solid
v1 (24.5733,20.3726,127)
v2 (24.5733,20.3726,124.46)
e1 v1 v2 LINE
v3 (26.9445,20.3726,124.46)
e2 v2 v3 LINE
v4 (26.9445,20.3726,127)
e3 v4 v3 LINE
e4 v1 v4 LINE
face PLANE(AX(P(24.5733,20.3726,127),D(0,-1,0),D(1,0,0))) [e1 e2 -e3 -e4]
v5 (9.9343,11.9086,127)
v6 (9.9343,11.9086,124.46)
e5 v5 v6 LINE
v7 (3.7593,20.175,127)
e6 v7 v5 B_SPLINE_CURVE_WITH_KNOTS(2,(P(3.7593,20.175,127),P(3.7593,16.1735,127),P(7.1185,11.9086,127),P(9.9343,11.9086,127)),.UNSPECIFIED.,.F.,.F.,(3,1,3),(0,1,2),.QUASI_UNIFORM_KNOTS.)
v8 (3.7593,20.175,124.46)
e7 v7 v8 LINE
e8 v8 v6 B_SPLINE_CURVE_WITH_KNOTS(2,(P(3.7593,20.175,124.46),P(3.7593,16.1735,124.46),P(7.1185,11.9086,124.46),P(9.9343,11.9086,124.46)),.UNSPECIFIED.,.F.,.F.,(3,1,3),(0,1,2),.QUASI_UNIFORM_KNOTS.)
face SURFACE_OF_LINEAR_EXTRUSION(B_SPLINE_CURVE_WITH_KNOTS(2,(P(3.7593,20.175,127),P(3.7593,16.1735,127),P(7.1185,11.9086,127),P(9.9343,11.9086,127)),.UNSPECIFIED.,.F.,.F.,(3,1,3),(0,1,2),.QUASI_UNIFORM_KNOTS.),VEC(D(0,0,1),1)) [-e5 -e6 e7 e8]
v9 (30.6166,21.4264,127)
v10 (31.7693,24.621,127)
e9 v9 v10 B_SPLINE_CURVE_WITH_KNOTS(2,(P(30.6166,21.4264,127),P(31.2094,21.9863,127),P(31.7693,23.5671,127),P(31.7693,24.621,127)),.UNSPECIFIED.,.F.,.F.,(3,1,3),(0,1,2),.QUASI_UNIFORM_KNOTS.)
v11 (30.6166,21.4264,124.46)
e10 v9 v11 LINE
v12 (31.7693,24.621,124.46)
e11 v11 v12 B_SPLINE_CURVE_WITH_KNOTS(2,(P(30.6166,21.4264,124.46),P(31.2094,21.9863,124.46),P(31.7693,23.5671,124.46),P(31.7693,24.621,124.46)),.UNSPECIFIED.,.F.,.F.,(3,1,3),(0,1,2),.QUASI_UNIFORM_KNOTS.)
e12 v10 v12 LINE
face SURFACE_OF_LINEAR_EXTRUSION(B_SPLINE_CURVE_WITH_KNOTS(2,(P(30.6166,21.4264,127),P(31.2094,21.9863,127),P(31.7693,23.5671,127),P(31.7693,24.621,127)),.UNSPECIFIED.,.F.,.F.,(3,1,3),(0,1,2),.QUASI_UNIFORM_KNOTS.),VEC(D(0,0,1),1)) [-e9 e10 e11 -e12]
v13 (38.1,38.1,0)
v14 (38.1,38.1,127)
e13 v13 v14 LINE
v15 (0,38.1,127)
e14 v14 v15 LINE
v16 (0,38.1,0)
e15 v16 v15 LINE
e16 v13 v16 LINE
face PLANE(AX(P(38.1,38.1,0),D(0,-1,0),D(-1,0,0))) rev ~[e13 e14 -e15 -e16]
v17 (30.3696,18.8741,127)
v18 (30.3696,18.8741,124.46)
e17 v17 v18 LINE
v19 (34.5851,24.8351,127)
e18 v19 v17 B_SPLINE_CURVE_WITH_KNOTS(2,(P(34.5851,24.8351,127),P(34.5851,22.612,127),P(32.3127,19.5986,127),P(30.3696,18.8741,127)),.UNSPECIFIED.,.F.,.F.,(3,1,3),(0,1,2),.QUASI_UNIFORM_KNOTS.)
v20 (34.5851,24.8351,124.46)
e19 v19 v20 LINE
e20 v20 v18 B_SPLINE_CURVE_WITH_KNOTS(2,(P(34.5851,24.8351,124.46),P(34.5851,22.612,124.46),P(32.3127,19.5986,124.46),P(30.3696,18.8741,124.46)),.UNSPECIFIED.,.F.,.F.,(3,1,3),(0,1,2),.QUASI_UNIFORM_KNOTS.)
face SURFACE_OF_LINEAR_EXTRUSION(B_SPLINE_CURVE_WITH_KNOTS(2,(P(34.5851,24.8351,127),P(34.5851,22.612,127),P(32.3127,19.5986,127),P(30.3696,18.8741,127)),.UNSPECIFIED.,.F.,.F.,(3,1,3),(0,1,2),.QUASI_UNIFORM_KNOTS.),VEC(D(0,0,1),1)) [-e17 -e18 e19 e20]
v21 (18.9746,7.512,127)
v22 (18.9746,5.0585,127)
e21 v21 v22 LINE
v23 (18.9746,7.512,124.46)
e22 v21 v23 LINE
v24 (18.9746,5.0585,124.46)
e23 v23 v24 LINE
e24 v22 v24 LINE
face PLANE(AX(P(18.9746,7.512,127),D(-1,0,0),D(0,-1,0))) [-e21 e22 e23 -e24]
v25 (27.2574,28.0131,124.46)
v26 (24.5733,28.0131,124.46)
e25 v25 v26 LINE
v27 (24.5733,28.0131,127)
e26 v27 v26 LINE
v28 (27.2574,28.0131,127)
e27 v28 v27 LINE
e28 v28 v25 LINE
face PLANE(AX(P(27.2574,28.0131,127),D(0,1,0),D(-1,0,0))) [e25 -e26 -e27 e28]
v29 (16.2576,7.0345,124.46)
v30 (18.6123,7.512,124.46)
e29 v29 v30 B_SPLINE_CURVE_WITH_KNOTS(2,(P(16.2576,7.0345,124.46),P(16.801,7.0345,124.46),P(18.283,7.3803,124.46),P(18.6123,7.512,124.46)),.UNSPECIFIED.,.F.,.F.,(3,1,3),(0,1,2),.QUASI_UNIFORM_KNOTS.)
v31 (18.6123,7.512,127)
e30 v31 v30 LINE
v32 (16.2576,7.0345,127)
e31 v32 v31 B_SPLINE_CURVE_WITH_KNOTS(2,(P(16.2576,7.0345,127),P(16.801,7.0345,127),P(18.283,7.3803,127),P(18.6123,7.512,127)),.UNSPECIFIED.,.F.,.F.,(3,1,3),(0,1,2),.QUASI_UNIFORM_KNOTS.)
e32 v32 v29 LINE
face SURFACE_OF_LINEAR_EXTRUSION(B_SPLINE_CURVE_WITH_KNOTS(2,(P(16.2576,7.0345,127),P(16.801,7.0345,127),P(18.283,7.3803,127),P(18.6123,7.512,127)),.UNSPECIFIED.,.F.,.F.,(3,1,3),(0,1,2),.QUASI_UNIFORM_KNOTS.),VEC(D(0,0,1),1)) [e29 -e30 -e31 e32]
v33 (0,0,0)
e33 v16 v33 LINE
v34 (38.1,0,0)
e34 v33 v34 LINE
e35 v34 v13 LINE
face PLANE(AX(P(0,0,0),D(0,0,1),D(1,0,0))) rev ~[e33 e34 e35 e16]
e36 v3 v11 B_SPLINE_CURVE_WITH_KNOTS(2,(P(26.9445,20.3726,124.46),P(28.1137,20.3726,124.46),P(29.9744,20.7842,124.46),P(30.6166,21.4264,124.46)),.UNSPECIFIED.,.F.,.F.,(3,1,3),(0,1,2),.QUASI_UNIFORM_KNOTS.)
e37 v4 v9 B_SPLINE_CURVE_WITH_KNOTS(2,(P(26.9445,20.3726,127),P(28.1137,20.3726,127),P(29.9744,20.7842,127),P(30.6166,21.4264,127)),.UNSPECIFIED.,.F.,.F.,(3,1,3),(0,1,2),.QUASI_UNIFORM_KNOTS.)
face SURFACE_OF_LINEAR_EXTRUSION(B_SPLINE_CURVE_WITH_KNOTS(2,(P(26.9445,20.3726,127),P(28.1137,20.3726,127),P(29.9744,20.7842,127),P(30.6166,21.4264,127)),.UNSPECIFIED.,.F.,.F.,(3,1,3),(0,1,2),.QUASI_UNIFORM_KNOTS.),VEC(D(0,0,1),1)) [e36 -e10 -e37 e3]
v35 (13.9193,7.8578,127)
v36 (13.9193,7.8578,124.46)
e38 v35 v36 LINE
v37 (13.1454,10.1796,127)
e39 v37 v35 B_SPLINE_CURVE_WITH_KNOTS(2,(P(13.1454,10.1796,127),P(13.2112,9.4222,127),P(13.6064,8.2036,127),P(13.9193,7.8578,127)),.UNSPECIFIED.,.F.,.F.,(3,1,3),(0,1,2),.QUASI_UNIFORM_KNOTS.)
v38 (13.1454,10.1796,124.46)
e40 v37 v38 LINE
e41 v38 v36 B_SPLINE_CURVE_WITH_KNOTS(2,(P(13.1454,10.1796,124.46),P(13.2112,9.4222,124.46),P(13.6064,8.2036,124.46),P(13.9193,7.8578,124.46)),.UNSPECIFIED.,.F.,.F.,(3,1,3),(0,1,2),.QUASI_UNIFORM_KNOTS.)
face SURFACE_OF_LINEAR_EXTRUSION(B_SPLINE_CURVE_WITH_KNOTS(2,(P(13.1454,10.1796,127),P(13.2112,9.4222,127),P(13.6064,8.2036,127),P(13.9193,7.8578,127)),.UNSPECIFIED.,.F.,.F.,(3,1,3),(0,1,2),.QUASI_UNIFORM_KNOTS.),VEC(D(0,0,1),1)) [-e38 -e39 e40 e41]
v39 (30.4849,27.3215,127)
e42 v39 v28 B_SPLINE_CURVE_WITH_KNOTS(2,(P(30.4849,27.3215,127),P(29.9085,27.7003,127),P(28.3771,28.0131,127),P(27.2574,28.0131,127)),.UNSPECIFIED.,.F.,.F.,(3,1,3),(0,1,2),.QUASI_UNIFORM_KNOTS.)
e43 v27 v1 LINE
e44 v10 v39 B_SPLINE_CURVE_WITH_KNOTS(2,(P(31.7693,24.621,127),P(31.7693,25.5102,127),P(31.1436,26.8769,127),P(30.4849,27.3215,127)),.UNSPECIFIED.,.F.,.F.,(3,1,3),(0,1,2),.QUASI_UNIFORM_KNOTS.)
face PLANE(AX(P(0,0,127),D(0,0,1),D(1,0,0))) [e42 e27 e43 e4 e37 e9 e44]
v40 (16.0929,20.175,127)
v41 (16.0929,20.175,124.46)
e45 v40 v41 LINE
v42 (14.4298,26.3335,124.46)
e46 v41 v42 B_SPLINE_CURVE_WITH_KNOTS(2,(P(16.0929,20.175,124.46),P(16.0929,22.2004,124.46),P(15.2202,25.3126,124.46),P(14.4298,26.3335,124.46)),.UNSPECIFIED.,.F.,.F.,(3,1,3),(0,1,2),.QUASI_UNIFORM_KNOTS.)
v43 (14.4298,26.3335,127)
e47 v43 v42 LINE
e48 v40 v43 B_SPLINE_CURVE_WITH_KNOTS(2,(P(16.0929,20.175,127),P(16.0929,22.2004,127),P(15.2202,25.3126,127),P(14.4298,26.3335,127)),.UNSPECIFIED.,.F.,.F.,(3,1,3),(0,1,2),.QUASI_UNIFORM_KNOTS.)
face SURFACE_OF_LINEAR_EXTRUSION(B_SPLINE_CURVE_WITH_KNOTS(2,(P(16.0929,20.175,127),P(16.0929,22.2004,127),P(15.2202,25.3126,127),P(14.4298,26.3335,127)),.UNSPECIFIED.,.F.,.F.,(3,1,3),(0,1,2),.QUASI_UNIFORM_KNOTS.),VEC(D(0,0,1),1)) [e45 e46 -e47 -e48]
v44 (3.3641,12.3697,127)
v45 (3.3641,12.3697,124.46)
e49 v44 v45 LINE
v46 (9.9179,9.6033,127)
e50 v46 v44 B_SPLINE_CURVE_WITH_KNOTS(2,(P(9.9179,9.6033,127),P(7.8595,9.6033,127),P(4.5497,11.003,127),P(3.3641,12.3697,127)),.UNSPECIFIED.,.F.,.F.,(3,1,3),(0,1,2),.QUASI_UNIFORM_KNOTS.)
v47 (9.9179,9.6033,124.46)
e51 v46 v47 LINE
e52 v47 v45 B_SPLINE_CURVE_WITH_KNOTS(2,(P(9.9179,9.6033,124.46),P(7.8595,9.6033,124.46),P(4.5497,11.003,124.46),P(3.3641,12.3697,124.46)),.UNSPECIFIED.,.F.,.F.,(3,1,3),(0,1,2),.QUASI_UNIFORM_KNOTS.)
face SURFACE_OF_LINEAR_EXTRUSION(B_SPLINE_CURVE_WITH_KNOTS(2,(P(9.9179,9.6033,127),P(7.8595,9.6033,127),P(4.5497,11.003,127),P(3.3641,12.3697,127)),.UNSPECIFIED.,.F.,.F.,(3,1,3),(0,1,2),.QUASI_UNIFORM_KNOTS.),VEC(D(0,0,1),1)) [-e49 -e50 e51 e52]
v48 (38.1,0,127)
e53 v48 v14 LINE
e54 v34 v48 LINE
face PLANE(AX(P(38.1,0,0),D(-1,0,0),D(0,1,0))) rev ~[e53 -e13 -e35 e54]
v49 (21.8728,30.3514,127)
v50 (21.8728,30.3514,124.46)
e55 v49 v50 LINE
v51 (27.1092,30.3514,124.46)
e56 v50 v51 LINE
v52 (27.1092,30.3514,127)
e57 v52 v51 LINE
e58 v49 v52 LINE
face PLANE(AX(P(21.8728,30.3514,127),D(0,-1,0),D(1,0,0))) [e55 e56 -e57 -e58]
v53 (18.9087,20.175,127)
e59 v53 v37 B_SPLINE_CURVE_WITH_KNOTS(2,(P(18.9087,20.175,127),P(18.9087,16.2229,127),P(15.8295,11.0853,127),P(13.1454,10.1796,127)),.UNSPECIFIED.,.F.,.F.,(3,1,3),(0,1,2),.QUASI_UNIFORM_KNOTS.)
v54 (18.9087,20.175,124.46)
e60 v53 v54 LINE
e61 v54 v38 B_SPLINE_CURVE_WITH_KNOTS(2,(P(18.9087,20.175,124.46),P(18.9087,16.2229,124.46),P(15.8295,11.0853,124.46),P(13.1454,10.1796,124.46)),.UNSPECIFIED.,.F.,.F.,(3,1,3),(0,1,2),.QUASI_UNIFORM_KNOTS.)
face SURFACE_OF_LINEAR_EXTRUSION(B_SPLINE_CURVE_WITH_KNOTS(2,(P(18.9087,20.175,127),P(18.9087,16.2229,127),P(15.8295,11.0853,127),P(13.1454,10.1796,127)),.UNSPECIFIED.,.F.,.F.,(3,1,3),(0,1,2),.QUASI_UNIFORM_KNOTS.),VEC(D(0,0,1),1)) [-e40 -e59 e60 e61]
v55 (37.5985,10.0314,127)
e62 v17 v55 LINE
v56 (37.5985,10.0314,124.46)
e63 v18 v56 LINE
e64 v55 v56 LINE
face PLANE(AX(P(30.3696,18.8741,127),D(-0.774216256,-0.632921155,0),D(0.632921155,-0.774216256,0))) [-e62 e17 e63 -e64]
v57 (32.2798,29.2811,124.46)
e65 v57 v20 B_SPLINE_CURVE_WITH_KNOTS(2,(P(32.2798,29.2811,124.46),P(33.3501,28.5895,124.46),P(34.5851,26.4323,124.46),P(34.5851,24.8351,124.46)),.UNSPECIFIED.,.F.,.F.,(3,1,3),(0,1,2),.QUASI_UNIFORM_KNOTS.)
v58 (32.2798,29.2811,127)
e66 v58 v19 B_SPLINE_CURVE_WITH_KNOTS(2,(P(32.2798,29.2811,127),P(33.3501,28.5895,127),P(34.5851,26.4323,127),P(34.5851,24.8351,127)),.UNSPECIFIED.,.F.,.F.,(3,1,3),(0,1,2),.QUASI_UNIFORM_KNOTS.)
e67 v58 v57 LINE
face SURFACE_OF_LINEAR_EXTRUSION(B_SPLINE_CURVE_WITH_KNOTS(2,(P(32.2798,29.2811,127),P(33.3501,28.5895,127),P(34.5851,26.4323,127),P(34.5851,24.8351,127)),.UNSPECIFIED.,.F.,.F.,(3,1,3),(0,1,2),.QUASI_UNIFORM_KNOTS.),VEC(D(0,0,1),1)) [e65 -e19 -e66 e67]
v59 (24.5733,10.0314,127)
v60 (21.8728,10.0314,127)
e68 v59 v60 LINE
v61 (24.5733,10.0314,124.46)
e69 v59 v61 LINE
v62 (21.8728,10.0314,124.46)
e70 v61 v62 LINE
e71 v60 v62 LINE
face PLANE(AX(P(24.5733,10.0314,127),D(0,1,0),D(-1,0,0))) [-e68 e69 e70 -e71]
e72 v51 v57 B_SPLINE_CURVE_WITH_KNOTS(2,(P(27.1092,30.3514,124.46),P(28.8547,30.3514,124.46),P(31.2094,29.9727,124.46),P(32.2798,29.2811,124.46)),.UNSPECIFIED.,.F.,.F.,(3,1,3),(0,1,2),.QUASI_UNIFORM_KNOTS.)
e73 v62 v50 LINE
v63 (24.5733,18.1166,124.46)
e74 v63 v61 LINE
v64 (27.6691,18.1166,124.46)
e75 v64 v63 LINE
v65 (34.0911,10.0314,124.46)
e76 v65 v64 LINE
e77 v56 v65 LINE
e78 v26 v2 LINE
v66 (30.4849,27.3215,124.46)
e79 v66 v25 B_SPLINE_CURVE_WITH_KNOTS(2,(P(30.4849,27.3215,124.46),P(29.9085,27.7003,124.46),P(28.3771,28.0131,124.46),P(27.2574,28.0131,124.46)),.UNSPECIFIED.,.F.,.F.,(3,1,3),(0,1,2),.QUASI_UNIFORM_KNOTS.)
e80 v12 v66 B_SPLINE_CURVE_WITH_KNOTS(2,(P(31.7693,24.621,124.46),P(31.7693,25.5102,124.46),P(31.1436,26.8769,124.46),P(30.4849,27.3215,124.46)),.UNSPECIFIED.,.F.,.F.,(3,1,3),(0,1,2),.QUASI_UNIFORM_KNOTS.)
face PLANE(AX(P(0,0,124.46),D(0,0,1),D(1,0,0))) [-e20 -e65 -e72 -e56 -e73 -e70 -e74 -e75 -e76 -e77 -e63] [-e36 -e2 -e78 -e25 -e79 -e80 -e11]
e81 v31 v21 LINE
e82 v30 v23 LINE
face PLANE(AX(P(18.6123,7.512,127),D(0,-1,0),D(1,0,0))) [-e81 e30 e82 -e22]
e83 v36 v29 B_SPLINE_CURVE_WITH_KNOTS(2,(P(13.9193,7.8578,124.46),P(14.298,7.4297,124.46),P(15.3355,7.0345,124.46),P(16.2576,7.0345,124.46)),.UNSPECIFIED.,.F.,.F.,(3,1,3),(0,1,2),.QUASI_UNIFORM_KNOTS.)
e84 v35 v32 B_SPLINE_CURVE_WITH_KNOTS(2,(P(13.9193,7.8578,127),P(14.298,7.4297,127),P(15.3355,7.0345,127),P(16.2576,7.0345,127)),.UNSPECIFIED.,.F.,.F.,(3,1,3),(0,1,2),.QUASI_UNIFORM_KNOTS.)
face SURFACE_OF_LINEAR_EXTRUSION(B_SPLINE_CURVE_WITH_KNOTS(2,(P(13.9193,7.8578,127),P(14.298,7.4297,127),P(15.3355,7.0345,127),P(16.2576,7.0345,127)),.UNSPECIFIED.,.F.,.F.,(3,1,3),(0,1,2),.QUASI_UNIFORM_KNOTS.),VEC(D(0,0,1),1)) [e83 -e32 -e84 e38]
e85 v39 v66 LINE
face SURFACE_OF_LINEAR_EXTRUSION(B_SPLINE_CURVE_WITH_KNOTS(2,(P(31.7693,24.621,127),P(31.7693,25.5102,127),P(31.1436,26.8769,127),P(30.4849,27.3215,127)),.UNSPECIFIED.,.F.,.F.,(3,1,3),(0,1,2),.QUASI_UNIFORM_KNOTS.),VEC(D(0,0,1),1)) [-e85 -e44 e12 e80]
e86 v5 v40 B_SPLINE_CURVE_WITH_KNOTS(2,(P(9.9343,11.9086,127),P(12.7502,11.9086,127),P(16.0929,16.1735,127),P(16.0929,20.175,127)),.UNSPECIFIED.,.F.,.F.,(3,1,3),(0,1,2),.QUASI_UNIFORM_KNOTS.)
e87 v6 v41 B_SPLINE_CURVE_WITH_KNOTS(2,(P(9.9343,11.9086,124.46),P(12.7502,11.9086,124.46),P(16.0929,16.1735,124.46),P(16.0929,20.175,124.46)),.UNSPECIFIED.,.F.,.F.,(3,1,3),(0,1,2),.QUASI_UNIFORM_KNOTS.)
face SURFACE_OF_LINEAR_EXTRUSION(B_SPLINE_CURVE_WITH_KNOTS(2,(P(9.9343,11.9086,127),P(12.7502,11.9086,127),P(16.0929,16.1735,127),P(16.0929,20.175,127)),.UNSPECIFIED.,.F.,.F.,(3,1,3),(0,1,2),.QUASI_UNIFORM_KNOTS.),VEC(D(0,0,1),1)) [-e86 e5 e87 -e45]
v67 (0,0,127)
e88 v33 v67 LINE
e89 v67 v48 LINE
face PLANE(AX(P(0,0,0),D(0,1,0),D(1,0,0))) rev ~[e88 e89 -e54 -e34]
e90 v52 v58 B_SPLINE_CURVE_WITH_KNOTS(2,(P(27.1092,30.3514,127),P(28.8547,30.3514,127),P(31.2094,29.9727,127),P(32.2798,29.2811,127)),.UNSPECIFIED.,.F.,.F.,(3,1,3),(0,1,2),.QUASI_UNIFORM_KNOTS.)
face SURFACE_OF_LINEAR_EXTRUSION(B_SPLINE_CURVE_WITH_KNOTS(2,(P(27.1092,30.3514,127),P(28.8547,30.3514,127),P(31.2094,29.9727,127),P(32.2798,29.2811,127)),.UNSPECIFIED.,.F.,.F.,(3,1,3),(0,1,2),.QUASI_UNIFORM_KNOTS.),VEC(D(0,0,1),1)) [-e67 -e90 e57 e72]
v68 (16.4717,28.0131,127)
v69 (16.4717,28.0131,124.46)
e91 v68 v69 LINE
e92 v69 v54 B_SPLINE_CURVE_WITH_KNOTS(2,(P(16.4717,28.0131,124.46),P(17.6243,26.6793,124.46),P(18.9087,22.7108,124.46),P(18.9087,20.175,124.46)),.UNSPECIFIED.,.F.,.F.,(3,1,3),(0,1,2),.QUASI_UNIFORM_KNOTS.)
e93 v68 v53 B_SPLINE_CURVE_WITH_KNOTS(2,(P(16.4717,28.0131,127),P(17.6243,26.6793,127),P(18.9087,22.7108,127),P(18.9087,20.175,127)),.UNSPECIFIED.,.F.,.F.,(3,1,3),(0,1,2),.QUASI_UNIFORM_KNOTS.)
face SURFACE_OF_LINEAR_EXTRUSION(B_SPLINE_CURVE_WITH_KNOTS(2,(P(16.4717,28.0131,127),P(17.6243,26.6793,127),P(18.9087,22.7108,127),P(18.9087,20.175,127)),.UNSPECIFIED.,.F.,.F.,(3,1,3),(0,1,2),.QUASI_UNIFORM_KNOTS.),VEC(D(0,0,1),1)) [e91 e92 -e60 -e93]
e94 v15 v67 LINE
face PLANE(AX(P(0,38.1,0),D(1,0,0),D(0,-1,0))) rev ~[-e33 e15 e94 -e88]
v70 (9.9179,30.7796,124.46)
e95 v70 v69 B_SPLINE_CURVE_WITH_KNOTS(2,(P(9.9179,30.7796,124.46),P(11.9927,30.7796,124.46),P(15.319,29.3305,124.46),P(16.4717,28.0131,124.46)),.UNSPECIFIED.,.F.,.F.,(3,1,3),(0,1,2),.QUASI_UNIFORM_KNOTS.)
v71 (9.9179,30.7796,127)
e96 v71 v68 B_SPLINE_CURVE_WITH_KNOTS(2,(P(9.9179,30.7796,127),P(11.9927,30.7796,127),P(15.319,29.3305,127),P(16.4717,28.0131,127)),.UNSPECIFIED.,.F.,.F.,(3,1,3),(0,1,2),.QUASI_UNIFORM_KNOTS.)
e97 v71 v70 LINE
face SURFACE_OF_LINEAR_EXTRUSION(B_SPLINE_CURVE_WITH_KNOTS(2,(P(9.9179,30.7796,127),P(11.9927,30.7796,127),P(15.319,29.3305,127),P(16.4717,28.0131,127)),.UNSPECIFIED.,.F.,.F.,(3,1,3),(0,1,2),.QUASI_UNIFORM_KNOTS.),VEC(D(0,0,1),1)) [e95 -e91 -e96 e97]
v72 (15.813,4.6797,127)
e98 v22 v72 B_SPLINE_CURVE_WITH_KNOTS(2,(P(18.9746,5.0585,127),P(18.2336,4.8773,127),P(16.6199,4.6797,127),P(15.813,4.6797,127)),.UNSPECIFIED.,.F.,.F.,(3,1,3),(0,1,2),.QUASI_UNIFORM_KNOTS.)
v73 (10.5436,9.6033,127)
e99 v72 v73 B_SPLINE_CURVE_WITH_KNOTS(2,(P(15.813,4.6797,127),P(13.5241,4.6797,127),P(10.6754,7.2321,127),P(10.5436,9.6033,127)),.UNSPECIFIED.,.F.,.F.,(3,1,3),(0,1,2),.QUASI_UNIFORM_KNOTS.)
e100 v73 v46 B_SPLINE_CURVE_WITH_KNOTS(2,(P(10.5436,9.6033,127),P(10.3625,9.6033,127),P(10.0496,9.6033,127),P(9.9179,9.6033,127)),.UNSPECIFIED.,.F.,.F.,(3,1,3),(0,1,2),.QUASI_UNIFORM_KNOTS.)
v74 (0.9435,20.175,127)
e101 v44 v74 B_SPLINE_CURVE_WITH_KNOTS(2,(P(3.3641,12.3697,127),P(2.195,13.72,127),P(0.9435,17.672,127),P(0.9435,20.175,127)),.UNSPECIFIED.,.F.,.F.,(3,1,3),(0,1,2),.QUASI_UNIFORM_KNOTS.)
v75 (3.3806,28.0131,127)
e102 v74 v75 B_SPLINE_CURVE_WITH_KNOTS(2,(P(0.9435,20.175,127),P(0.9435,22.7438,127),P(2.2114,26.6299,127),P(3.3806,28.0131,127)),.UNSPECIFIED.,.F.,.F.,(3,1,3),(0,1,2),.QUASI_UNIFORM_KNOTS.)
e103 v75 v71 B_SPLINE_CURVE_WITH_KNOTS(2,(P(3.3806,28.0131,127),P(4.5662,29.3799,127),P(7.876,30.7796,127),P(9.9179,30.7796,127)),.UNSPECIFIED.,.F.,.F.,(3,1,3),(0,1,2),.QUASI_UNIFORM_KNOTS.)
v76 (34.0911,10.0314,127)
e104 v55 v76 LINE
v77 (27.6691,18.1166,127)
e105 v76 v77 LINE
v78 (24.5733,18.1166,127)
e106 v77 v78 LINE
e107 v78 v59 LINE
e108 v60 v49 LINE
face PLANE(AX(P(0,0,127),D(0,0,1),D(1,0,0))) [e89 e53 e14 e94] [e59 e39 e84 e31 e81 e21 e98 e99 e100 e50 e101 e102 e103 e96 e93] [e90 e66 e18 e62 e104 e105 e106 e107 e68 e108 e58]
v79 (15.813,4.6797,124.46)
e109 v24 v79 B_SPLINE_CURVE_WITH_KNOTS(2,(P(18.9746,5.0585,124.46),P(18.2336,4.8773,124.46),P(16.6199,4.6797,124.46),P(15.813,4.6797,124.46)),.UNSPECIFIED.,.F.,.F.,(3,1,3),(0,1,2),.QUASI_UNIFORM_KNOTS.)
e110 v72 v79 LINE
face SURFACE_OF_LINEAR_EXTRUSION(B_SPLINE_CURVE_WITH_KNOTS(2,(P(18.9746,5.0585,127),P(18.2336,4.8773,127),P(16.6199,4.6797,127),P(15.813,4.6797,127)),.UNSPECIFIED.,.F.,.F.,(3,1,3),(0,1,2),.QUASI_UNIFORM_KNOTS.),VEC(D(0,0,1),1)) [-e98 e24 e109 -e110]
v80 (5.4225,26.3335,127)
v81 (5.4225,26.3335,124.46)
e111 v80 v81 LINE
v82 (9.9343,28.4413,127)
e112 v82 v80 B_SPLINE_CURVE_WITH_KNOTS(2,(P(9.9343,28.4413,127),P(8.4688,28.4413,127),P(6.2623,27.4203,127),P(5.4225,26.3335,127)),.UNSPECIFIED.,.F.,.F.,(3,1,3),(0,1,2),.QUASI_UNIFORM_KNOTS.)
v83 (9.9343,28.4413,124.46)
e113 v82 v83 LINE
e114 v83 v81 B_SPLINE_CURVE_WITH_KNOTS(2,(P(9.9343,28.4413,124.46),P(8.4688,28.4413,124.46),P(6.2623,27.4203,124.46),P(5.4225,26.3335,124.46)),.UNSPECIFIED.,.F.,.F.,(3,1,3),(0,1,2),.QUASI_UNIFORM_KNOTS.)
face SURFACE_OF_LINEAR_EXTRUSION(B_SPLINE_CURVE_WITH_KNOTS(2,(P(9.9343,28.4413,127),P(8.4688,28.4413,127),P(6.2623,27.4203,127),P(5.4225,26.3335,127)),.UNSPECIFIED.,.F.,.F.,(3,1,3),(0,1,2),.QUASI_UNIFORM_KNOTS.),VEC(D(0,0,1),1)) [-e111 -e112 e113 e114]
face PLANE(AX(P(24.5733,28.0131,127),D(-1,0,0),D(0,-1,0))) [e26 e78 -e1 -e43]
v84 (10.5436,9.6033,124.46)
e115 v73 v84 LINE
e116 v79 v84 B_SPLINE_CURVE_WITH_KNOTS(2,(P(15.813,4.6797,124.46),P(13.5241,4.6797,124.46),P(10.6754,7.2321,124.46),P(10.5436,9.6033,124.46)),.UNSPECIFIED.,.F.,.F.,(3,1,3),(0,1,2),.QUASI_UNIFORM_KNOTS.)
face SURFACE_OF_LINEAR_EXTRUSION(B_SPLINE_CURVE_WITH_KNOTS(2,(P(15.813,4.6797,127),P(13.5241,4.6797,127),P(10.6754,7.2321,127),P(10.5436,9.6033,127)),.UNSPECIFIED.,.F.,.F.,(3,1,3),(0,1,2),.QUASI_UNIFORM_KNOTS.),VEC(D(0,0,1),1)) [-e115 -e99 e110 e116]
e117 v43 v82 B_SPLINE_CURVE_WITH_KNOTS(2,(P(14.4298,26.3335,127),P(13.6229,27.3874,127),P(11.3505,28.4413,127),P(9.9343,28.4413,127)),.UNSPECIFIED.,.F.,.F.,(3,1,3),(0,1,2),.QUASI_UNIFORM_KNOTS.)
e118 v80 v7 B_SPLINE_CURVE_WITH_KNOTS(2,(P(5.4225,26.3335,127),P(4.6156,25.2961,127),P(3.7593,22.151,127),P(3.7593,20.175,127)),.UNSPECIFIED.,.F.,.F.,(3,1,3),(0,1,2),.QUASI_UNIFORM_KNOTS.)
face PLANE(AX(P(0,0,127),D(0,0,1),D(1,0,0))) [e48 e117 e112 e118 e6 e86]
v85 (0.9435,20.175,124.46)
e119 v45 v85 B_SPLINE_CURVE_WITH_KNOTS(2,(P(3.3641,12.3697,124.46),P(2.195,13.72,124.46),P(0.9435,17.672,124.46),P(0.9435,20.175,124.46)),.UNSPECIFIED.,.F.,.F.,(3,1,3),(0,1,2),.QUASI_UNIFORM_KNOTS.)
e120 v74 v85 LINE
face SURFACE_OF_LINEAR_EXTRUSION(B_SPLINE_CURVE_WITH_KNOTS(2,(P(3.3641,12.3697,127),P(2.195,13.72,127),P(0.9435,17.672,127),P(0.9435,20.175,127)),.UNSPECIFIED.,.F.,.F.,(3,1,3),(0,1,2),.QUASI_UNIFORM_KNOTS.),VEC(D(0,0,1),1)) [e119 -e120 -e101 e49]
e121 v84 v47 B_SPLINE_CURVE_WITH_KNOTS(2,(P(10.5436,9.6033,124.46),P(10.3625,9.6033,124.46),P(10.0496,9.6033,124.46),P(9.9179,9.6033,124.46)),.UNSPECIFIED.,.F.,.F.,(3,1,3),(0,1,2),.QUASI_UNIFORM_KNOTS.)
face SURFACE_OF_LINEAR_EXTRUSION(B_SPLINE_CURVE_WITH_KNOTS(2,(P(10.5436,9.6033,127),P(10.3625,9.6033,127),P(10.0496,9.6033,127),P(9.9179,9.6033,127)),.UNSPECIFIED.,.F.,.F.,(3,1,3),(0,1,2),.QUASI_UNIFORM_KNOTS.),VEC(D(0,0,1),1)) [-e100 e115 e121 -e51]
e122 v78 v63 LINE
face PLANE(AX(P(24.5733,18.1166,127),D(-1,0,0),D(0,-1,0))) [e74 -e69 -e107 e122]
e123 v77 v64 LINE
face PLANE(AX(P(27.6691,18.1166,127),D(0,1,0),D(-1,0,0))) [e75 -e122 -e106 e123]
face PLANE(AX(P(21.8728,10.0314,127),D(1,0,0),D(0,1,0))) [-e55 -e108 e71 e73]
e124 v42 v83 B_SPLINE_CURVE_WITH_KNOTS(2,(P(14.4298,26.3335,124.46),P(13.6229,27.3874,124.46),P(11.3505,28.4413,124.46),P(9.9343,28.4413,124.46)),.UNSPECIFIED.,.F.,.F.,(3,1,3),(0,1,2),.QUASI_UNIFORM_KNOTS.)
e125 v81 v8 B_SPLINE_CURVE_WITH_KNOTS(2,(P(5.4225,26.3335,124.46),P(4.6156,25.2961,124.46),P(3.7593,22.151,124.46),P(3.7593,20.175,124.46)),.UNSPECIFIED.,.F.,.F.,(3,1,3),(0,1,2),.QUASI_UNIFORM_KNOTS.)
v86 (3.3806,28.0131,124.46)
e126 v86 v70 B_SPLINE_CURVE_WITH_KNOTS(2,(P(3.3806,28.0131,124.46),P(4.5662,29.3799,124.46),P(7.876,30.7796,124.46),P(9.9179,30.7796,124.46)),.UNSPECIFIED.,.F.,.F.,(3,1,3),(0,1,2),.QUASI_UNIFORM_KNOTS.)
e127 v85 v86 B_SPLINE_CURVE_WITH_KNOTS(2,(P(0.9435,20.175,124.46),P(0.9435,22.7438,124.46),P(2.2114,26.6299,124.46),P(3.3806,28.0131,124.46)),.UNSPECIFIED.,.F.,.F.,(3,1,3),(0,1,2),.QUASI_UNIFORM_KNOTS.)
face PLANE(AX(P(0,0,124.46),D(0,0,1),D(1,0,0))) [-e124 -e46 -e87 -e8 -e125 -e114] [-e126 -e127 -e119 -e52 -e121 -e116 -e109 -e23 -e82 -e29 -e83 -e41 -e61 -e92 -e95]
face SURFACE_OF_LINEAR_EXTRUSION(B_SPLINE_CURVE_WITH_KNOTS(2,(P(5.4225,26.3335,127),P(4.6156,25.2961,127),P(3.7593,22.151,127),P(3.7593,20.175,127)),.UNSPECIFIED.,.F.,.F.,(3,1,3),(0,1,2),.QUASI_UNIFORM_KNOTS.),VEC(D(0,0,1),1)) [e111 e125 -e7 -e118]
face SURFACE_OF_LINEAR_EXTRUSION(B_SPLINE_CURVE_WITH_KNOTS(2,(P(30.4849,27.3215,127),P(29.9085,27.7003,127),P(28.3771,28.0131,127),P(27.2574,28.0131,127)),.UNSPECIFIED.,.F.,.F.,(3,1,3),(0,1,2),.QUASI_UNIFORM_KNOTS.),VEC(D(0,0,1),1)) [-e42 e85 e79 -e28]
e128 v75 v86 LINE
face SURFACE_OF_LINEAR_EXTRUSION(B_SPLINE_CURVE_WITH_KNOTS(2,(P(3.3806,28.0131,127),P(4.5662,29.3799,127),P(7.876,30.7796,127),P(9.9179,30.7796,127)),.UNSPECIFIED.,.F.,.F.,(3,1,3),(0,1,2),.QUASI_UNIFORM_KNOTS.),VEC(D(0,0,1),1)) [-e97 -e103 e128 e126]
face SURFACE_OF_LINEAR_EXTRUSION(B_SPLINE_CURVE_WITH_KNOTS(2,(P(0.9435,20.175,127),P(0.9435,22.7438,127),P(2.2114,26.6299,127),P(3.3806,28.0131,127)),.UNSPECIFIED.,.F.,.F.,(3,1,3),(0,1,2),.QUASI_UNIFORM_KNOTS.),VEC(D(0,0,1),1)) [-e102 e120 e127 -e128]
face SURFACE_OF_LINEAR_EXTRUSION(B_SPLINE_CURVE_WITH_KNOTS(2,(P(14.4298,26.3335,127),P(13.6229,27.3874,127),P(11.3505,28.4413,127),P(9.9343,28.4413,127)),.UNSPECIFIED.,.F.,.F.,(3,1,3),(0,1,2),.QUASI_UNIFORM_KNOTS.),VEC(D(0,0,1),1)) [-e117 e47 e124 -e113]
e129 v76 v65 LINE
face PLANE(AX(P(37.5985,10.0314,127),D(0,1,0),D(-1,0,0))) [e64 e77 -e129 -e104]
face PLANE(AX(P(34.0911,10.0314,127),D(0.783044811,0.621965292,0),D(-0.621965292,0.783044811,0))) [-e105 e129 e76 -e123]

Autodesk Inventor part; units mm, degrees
ref_plane "YZ Plane" through (0, 0, 0) normal (1, 0, 0) x (0, 1, 0)
ref_plane "XZ Plane" through (0, 0, 0) normal (0, 1, 0) x (-1, 0, 0)
ref_plane "XY Plane" through (0, 0, 0) normal (0, 0, 1) x (1, 0, 0)
sketch "Sketch1" plane through (0, 0, 0) normal (0, 0, 1) x (1, 0, 0)
  line L0 (0, 0) -> (38.1, 0)
  line L1 (38.1, 0) -> (38.1, 38.1)
  line L2 (38.1, 38.1) -> (0, 38.1)
  line L3 (0, 38.1) -> (0, 0)
  dimension "d0" = 38.1
  dimension "d1" = 38.1
extrude "Extrusion1" add sketch "Sketch1" along normal blind 127
sketch "Sketch2" plane through (0, 0, 127) normal (0, 0, 1) x (1, 0, 0)
  line L0 (0.0378, 30.7796) -> (46.433, 30.7796) construction
  line L1 (46.433, 30.7796) -> (46.433, -1.8452) construction
  line L2 (46.433, -1.8452) -> (0.0378, -1.8452) construction
  line L3 (0.0378, -1.8452) -> (0.0378, 30.7796) construction
  spline S0 degree 2 poles (18.9746, 5.0585) (18.2336, 4.8773) (16.6199, 4.6797) (15.813, 4.6797) knots 0 0 0 1 2 2 2
  spline S1 degree 2 poles (15.813, 4.6797) (13.5241, 4.6797) (10.6754, 7.2321) (10.5436, 9.6033) knots 0 0 0 1 2 2 2
  spline S2 degree 2 poles (10.5436, 9.6033) (10.3625, 9.6033) (10.0496, 9.6033) (9.9179, 9.6033) knots 0 0 0 1 2 2 2
  spline S3 degree 2 poles (9.9179, 9.6033) (7.8595, 9.6033) (4.5497, 11.003) (3.3641, 12.3697) knots 0 0 0 1 2 2 2
  spline S4 degree 2 poles (3.3641, 12.3697) (2.195, 13.72) (0.9435, 17.672) (0.9435, 20.175) knots 0 0 0 1 2 2 2
  spline S5 degree 2 poles (0.9435, 20.175) (0.9435, 22.7438) (2.2114, 26.6299) (3.3806, 28.0131) knots 0 0 0 1 2 2 2
  spline S6 degree 2 poles (3.3806, 28.0131) (4.5662, 29.3799) (7.876, 30.7796) (9.9179, 30.7796) knots 0 0 0 1 2 2 2
  spline S7 degree 2 poles (9.9179, 30.7796) (11.9927, 30.7796) (15.319, 29.3305) (16.4717, 28.0131) knots 0 0 0 1 2 2 2
  spline S8 degree 2 poles (16.4717, 28.0131) (17.6243, 26.6793) (18.9087, 22.7108) (18.9087, 20.175) knots 0 0 0 1 2 2 2
  spline S9 degree 2 poles (18.9087, 20.175) (18.9087, 16.2229) (15.8295, 11.0853) (13.1454, 10.1796) knots 0 0 0 1 2 2 2
  spline S10 degree 2 poles (13.1454, 10.1796) (13.2112, 9.4222) (13.6064, 8.2036) (13.9193, 7.8578) knots 0 0 0 1 2 2 2
  spline S11 degree 2 poles (13.9193, 7.8578) (14.298, 7.4297) (15.3355, 7.0345) (16.2576, 7.0345) knots 0 0 0 1 2 2 2
  spline S12 degree 2 poles (16.2576, 7.0345) (16.801, 7.0345) (18.283, 7.3803) (18.6123, 7.512) knots 0 0 0 1 2 2 2
  line L4 (18.6123, 7.512) -> (18.9746, 7.512)
  line L5 (18.9746, 7.512) -> (18.9746, 5.0585)
  spline S13 degree 2 poles (16.0929, 20.175) (16.0929, 22.2004) (15.2202, 25.3126) (14.4298, 26.3335) knots 0 0 0 1 2 2 2
  spline S14 degree 2 poles (14.4298, 26.3335) (13.6229, 27.3874) (11.3505, 28.4413) (9.9343, 28.4413) knots 0 0 0 1 2 2 2
  spline S15 degree 2 poles (9.9343, 28.4413) (8.4688, 28.4413) (6.2623, 27.4203) (5.4225, 26.3335) knots 0 0 0 1 2 2 2
  spline S16 degree 2 poles (5.4225, 26.3335) (4.6156, 25.2961) (3.7593, 22.151) (3.7593, 20.175) knots 0 0 0 1 2 2 2
  spline S17 degree 2 poles (3.7593, 20.175) (3.7593, 16.1735) (7.1185, 11.9086) (9.9343, 11.9086) knots 0 0 0 1 2 2 2
  spline S18 degree 2 poles (9.9343, 11.9086) (12.7502, 11.9086) (16.0929, 16.1735) (16.0929, 20.175) knots 0 0 0 1 2 2 2
  line L6 (37.5985, 10.0314) -> (34.0911, 10.0314)
  line L7 (34.0911, 10.0314) -> (27.6691, 18.1166)
  line L8 (27.6691, 18.1166) -> (24.5733, 18.1166)
  line L9 (24.5733, 18.1166) -> (24.5733, 10.0314)
  line L10 (24.5733, 10.0314) -> (21.8728, 10.0314)
  line L11 (21.8728, 10.0314) -> (21.8728, 30.3514)
  line L12 (21.8728, 30.3514) -> (27.1092, 30.3514)
  spline S19 degree 2 poles (27.1092, 30.3514) (28.8547, 30.3514) (31.2094, 29.9727) (32.2798, 29.2811) knots 0 0 0 1 2 2 2
  spline S20 degree 2 poles (32.2798, 29.2811) (33.3501, 28.5895) (34.5851, 26.4323) (34.5851, 24.8351) knots 0 0 0 1 2 2 2
  spline S21 degree 2 poles (34.5851, 24.8351) (34.5851, 22.612) (32.3127, 19.5986) (30.3696, 18.8741) knots 0 0 0 1 2 2 2
  line L13 (30.3696, 18.8741) -> (37.5985, 10.0314)
  spline S22 degree 2 poles (31.7693, 24.621) (31.7693, 25.5102) (31.1436, 26.8769) (30.4849, 27.3215) knots 0 0 0 1 2 2 2
  spline S23 degree 2 poles (30.4849, 27.3215) (29.9085, 27.7003) (28.3771, 28.0131) (27.2574, 28.0131) knots 0 0 0 1 2 2 2
  line L14 (27.2574, 28.0131) -> (24.5733, 28.0131)
  line L15 (24.5733, 28.0131) -> (24.5733, 20.3726)
  line L16 (24.5733, 20.3726) -> (26.9445, 20.3726)
  spline S24 degree 2 poles (26.9445, 20.3726) (28.1137, 20.3726) (29.9744, 20.7842) (30.6166, 21.4264) knots 0 0 0 1 2 2 2
  spline S25 degree 2 poles (30.6166, 21.4264) (31.2094, 21.9863) (31.7693, 23.5671) (31.7693, 24.621) knots 0 0 0 1 2 2 2
  point P0 (0, 0)
extrude "Extrusion2" cut sketch "Sketch2" against normal blind 2.54
properties part number "Container 1 1 5"
